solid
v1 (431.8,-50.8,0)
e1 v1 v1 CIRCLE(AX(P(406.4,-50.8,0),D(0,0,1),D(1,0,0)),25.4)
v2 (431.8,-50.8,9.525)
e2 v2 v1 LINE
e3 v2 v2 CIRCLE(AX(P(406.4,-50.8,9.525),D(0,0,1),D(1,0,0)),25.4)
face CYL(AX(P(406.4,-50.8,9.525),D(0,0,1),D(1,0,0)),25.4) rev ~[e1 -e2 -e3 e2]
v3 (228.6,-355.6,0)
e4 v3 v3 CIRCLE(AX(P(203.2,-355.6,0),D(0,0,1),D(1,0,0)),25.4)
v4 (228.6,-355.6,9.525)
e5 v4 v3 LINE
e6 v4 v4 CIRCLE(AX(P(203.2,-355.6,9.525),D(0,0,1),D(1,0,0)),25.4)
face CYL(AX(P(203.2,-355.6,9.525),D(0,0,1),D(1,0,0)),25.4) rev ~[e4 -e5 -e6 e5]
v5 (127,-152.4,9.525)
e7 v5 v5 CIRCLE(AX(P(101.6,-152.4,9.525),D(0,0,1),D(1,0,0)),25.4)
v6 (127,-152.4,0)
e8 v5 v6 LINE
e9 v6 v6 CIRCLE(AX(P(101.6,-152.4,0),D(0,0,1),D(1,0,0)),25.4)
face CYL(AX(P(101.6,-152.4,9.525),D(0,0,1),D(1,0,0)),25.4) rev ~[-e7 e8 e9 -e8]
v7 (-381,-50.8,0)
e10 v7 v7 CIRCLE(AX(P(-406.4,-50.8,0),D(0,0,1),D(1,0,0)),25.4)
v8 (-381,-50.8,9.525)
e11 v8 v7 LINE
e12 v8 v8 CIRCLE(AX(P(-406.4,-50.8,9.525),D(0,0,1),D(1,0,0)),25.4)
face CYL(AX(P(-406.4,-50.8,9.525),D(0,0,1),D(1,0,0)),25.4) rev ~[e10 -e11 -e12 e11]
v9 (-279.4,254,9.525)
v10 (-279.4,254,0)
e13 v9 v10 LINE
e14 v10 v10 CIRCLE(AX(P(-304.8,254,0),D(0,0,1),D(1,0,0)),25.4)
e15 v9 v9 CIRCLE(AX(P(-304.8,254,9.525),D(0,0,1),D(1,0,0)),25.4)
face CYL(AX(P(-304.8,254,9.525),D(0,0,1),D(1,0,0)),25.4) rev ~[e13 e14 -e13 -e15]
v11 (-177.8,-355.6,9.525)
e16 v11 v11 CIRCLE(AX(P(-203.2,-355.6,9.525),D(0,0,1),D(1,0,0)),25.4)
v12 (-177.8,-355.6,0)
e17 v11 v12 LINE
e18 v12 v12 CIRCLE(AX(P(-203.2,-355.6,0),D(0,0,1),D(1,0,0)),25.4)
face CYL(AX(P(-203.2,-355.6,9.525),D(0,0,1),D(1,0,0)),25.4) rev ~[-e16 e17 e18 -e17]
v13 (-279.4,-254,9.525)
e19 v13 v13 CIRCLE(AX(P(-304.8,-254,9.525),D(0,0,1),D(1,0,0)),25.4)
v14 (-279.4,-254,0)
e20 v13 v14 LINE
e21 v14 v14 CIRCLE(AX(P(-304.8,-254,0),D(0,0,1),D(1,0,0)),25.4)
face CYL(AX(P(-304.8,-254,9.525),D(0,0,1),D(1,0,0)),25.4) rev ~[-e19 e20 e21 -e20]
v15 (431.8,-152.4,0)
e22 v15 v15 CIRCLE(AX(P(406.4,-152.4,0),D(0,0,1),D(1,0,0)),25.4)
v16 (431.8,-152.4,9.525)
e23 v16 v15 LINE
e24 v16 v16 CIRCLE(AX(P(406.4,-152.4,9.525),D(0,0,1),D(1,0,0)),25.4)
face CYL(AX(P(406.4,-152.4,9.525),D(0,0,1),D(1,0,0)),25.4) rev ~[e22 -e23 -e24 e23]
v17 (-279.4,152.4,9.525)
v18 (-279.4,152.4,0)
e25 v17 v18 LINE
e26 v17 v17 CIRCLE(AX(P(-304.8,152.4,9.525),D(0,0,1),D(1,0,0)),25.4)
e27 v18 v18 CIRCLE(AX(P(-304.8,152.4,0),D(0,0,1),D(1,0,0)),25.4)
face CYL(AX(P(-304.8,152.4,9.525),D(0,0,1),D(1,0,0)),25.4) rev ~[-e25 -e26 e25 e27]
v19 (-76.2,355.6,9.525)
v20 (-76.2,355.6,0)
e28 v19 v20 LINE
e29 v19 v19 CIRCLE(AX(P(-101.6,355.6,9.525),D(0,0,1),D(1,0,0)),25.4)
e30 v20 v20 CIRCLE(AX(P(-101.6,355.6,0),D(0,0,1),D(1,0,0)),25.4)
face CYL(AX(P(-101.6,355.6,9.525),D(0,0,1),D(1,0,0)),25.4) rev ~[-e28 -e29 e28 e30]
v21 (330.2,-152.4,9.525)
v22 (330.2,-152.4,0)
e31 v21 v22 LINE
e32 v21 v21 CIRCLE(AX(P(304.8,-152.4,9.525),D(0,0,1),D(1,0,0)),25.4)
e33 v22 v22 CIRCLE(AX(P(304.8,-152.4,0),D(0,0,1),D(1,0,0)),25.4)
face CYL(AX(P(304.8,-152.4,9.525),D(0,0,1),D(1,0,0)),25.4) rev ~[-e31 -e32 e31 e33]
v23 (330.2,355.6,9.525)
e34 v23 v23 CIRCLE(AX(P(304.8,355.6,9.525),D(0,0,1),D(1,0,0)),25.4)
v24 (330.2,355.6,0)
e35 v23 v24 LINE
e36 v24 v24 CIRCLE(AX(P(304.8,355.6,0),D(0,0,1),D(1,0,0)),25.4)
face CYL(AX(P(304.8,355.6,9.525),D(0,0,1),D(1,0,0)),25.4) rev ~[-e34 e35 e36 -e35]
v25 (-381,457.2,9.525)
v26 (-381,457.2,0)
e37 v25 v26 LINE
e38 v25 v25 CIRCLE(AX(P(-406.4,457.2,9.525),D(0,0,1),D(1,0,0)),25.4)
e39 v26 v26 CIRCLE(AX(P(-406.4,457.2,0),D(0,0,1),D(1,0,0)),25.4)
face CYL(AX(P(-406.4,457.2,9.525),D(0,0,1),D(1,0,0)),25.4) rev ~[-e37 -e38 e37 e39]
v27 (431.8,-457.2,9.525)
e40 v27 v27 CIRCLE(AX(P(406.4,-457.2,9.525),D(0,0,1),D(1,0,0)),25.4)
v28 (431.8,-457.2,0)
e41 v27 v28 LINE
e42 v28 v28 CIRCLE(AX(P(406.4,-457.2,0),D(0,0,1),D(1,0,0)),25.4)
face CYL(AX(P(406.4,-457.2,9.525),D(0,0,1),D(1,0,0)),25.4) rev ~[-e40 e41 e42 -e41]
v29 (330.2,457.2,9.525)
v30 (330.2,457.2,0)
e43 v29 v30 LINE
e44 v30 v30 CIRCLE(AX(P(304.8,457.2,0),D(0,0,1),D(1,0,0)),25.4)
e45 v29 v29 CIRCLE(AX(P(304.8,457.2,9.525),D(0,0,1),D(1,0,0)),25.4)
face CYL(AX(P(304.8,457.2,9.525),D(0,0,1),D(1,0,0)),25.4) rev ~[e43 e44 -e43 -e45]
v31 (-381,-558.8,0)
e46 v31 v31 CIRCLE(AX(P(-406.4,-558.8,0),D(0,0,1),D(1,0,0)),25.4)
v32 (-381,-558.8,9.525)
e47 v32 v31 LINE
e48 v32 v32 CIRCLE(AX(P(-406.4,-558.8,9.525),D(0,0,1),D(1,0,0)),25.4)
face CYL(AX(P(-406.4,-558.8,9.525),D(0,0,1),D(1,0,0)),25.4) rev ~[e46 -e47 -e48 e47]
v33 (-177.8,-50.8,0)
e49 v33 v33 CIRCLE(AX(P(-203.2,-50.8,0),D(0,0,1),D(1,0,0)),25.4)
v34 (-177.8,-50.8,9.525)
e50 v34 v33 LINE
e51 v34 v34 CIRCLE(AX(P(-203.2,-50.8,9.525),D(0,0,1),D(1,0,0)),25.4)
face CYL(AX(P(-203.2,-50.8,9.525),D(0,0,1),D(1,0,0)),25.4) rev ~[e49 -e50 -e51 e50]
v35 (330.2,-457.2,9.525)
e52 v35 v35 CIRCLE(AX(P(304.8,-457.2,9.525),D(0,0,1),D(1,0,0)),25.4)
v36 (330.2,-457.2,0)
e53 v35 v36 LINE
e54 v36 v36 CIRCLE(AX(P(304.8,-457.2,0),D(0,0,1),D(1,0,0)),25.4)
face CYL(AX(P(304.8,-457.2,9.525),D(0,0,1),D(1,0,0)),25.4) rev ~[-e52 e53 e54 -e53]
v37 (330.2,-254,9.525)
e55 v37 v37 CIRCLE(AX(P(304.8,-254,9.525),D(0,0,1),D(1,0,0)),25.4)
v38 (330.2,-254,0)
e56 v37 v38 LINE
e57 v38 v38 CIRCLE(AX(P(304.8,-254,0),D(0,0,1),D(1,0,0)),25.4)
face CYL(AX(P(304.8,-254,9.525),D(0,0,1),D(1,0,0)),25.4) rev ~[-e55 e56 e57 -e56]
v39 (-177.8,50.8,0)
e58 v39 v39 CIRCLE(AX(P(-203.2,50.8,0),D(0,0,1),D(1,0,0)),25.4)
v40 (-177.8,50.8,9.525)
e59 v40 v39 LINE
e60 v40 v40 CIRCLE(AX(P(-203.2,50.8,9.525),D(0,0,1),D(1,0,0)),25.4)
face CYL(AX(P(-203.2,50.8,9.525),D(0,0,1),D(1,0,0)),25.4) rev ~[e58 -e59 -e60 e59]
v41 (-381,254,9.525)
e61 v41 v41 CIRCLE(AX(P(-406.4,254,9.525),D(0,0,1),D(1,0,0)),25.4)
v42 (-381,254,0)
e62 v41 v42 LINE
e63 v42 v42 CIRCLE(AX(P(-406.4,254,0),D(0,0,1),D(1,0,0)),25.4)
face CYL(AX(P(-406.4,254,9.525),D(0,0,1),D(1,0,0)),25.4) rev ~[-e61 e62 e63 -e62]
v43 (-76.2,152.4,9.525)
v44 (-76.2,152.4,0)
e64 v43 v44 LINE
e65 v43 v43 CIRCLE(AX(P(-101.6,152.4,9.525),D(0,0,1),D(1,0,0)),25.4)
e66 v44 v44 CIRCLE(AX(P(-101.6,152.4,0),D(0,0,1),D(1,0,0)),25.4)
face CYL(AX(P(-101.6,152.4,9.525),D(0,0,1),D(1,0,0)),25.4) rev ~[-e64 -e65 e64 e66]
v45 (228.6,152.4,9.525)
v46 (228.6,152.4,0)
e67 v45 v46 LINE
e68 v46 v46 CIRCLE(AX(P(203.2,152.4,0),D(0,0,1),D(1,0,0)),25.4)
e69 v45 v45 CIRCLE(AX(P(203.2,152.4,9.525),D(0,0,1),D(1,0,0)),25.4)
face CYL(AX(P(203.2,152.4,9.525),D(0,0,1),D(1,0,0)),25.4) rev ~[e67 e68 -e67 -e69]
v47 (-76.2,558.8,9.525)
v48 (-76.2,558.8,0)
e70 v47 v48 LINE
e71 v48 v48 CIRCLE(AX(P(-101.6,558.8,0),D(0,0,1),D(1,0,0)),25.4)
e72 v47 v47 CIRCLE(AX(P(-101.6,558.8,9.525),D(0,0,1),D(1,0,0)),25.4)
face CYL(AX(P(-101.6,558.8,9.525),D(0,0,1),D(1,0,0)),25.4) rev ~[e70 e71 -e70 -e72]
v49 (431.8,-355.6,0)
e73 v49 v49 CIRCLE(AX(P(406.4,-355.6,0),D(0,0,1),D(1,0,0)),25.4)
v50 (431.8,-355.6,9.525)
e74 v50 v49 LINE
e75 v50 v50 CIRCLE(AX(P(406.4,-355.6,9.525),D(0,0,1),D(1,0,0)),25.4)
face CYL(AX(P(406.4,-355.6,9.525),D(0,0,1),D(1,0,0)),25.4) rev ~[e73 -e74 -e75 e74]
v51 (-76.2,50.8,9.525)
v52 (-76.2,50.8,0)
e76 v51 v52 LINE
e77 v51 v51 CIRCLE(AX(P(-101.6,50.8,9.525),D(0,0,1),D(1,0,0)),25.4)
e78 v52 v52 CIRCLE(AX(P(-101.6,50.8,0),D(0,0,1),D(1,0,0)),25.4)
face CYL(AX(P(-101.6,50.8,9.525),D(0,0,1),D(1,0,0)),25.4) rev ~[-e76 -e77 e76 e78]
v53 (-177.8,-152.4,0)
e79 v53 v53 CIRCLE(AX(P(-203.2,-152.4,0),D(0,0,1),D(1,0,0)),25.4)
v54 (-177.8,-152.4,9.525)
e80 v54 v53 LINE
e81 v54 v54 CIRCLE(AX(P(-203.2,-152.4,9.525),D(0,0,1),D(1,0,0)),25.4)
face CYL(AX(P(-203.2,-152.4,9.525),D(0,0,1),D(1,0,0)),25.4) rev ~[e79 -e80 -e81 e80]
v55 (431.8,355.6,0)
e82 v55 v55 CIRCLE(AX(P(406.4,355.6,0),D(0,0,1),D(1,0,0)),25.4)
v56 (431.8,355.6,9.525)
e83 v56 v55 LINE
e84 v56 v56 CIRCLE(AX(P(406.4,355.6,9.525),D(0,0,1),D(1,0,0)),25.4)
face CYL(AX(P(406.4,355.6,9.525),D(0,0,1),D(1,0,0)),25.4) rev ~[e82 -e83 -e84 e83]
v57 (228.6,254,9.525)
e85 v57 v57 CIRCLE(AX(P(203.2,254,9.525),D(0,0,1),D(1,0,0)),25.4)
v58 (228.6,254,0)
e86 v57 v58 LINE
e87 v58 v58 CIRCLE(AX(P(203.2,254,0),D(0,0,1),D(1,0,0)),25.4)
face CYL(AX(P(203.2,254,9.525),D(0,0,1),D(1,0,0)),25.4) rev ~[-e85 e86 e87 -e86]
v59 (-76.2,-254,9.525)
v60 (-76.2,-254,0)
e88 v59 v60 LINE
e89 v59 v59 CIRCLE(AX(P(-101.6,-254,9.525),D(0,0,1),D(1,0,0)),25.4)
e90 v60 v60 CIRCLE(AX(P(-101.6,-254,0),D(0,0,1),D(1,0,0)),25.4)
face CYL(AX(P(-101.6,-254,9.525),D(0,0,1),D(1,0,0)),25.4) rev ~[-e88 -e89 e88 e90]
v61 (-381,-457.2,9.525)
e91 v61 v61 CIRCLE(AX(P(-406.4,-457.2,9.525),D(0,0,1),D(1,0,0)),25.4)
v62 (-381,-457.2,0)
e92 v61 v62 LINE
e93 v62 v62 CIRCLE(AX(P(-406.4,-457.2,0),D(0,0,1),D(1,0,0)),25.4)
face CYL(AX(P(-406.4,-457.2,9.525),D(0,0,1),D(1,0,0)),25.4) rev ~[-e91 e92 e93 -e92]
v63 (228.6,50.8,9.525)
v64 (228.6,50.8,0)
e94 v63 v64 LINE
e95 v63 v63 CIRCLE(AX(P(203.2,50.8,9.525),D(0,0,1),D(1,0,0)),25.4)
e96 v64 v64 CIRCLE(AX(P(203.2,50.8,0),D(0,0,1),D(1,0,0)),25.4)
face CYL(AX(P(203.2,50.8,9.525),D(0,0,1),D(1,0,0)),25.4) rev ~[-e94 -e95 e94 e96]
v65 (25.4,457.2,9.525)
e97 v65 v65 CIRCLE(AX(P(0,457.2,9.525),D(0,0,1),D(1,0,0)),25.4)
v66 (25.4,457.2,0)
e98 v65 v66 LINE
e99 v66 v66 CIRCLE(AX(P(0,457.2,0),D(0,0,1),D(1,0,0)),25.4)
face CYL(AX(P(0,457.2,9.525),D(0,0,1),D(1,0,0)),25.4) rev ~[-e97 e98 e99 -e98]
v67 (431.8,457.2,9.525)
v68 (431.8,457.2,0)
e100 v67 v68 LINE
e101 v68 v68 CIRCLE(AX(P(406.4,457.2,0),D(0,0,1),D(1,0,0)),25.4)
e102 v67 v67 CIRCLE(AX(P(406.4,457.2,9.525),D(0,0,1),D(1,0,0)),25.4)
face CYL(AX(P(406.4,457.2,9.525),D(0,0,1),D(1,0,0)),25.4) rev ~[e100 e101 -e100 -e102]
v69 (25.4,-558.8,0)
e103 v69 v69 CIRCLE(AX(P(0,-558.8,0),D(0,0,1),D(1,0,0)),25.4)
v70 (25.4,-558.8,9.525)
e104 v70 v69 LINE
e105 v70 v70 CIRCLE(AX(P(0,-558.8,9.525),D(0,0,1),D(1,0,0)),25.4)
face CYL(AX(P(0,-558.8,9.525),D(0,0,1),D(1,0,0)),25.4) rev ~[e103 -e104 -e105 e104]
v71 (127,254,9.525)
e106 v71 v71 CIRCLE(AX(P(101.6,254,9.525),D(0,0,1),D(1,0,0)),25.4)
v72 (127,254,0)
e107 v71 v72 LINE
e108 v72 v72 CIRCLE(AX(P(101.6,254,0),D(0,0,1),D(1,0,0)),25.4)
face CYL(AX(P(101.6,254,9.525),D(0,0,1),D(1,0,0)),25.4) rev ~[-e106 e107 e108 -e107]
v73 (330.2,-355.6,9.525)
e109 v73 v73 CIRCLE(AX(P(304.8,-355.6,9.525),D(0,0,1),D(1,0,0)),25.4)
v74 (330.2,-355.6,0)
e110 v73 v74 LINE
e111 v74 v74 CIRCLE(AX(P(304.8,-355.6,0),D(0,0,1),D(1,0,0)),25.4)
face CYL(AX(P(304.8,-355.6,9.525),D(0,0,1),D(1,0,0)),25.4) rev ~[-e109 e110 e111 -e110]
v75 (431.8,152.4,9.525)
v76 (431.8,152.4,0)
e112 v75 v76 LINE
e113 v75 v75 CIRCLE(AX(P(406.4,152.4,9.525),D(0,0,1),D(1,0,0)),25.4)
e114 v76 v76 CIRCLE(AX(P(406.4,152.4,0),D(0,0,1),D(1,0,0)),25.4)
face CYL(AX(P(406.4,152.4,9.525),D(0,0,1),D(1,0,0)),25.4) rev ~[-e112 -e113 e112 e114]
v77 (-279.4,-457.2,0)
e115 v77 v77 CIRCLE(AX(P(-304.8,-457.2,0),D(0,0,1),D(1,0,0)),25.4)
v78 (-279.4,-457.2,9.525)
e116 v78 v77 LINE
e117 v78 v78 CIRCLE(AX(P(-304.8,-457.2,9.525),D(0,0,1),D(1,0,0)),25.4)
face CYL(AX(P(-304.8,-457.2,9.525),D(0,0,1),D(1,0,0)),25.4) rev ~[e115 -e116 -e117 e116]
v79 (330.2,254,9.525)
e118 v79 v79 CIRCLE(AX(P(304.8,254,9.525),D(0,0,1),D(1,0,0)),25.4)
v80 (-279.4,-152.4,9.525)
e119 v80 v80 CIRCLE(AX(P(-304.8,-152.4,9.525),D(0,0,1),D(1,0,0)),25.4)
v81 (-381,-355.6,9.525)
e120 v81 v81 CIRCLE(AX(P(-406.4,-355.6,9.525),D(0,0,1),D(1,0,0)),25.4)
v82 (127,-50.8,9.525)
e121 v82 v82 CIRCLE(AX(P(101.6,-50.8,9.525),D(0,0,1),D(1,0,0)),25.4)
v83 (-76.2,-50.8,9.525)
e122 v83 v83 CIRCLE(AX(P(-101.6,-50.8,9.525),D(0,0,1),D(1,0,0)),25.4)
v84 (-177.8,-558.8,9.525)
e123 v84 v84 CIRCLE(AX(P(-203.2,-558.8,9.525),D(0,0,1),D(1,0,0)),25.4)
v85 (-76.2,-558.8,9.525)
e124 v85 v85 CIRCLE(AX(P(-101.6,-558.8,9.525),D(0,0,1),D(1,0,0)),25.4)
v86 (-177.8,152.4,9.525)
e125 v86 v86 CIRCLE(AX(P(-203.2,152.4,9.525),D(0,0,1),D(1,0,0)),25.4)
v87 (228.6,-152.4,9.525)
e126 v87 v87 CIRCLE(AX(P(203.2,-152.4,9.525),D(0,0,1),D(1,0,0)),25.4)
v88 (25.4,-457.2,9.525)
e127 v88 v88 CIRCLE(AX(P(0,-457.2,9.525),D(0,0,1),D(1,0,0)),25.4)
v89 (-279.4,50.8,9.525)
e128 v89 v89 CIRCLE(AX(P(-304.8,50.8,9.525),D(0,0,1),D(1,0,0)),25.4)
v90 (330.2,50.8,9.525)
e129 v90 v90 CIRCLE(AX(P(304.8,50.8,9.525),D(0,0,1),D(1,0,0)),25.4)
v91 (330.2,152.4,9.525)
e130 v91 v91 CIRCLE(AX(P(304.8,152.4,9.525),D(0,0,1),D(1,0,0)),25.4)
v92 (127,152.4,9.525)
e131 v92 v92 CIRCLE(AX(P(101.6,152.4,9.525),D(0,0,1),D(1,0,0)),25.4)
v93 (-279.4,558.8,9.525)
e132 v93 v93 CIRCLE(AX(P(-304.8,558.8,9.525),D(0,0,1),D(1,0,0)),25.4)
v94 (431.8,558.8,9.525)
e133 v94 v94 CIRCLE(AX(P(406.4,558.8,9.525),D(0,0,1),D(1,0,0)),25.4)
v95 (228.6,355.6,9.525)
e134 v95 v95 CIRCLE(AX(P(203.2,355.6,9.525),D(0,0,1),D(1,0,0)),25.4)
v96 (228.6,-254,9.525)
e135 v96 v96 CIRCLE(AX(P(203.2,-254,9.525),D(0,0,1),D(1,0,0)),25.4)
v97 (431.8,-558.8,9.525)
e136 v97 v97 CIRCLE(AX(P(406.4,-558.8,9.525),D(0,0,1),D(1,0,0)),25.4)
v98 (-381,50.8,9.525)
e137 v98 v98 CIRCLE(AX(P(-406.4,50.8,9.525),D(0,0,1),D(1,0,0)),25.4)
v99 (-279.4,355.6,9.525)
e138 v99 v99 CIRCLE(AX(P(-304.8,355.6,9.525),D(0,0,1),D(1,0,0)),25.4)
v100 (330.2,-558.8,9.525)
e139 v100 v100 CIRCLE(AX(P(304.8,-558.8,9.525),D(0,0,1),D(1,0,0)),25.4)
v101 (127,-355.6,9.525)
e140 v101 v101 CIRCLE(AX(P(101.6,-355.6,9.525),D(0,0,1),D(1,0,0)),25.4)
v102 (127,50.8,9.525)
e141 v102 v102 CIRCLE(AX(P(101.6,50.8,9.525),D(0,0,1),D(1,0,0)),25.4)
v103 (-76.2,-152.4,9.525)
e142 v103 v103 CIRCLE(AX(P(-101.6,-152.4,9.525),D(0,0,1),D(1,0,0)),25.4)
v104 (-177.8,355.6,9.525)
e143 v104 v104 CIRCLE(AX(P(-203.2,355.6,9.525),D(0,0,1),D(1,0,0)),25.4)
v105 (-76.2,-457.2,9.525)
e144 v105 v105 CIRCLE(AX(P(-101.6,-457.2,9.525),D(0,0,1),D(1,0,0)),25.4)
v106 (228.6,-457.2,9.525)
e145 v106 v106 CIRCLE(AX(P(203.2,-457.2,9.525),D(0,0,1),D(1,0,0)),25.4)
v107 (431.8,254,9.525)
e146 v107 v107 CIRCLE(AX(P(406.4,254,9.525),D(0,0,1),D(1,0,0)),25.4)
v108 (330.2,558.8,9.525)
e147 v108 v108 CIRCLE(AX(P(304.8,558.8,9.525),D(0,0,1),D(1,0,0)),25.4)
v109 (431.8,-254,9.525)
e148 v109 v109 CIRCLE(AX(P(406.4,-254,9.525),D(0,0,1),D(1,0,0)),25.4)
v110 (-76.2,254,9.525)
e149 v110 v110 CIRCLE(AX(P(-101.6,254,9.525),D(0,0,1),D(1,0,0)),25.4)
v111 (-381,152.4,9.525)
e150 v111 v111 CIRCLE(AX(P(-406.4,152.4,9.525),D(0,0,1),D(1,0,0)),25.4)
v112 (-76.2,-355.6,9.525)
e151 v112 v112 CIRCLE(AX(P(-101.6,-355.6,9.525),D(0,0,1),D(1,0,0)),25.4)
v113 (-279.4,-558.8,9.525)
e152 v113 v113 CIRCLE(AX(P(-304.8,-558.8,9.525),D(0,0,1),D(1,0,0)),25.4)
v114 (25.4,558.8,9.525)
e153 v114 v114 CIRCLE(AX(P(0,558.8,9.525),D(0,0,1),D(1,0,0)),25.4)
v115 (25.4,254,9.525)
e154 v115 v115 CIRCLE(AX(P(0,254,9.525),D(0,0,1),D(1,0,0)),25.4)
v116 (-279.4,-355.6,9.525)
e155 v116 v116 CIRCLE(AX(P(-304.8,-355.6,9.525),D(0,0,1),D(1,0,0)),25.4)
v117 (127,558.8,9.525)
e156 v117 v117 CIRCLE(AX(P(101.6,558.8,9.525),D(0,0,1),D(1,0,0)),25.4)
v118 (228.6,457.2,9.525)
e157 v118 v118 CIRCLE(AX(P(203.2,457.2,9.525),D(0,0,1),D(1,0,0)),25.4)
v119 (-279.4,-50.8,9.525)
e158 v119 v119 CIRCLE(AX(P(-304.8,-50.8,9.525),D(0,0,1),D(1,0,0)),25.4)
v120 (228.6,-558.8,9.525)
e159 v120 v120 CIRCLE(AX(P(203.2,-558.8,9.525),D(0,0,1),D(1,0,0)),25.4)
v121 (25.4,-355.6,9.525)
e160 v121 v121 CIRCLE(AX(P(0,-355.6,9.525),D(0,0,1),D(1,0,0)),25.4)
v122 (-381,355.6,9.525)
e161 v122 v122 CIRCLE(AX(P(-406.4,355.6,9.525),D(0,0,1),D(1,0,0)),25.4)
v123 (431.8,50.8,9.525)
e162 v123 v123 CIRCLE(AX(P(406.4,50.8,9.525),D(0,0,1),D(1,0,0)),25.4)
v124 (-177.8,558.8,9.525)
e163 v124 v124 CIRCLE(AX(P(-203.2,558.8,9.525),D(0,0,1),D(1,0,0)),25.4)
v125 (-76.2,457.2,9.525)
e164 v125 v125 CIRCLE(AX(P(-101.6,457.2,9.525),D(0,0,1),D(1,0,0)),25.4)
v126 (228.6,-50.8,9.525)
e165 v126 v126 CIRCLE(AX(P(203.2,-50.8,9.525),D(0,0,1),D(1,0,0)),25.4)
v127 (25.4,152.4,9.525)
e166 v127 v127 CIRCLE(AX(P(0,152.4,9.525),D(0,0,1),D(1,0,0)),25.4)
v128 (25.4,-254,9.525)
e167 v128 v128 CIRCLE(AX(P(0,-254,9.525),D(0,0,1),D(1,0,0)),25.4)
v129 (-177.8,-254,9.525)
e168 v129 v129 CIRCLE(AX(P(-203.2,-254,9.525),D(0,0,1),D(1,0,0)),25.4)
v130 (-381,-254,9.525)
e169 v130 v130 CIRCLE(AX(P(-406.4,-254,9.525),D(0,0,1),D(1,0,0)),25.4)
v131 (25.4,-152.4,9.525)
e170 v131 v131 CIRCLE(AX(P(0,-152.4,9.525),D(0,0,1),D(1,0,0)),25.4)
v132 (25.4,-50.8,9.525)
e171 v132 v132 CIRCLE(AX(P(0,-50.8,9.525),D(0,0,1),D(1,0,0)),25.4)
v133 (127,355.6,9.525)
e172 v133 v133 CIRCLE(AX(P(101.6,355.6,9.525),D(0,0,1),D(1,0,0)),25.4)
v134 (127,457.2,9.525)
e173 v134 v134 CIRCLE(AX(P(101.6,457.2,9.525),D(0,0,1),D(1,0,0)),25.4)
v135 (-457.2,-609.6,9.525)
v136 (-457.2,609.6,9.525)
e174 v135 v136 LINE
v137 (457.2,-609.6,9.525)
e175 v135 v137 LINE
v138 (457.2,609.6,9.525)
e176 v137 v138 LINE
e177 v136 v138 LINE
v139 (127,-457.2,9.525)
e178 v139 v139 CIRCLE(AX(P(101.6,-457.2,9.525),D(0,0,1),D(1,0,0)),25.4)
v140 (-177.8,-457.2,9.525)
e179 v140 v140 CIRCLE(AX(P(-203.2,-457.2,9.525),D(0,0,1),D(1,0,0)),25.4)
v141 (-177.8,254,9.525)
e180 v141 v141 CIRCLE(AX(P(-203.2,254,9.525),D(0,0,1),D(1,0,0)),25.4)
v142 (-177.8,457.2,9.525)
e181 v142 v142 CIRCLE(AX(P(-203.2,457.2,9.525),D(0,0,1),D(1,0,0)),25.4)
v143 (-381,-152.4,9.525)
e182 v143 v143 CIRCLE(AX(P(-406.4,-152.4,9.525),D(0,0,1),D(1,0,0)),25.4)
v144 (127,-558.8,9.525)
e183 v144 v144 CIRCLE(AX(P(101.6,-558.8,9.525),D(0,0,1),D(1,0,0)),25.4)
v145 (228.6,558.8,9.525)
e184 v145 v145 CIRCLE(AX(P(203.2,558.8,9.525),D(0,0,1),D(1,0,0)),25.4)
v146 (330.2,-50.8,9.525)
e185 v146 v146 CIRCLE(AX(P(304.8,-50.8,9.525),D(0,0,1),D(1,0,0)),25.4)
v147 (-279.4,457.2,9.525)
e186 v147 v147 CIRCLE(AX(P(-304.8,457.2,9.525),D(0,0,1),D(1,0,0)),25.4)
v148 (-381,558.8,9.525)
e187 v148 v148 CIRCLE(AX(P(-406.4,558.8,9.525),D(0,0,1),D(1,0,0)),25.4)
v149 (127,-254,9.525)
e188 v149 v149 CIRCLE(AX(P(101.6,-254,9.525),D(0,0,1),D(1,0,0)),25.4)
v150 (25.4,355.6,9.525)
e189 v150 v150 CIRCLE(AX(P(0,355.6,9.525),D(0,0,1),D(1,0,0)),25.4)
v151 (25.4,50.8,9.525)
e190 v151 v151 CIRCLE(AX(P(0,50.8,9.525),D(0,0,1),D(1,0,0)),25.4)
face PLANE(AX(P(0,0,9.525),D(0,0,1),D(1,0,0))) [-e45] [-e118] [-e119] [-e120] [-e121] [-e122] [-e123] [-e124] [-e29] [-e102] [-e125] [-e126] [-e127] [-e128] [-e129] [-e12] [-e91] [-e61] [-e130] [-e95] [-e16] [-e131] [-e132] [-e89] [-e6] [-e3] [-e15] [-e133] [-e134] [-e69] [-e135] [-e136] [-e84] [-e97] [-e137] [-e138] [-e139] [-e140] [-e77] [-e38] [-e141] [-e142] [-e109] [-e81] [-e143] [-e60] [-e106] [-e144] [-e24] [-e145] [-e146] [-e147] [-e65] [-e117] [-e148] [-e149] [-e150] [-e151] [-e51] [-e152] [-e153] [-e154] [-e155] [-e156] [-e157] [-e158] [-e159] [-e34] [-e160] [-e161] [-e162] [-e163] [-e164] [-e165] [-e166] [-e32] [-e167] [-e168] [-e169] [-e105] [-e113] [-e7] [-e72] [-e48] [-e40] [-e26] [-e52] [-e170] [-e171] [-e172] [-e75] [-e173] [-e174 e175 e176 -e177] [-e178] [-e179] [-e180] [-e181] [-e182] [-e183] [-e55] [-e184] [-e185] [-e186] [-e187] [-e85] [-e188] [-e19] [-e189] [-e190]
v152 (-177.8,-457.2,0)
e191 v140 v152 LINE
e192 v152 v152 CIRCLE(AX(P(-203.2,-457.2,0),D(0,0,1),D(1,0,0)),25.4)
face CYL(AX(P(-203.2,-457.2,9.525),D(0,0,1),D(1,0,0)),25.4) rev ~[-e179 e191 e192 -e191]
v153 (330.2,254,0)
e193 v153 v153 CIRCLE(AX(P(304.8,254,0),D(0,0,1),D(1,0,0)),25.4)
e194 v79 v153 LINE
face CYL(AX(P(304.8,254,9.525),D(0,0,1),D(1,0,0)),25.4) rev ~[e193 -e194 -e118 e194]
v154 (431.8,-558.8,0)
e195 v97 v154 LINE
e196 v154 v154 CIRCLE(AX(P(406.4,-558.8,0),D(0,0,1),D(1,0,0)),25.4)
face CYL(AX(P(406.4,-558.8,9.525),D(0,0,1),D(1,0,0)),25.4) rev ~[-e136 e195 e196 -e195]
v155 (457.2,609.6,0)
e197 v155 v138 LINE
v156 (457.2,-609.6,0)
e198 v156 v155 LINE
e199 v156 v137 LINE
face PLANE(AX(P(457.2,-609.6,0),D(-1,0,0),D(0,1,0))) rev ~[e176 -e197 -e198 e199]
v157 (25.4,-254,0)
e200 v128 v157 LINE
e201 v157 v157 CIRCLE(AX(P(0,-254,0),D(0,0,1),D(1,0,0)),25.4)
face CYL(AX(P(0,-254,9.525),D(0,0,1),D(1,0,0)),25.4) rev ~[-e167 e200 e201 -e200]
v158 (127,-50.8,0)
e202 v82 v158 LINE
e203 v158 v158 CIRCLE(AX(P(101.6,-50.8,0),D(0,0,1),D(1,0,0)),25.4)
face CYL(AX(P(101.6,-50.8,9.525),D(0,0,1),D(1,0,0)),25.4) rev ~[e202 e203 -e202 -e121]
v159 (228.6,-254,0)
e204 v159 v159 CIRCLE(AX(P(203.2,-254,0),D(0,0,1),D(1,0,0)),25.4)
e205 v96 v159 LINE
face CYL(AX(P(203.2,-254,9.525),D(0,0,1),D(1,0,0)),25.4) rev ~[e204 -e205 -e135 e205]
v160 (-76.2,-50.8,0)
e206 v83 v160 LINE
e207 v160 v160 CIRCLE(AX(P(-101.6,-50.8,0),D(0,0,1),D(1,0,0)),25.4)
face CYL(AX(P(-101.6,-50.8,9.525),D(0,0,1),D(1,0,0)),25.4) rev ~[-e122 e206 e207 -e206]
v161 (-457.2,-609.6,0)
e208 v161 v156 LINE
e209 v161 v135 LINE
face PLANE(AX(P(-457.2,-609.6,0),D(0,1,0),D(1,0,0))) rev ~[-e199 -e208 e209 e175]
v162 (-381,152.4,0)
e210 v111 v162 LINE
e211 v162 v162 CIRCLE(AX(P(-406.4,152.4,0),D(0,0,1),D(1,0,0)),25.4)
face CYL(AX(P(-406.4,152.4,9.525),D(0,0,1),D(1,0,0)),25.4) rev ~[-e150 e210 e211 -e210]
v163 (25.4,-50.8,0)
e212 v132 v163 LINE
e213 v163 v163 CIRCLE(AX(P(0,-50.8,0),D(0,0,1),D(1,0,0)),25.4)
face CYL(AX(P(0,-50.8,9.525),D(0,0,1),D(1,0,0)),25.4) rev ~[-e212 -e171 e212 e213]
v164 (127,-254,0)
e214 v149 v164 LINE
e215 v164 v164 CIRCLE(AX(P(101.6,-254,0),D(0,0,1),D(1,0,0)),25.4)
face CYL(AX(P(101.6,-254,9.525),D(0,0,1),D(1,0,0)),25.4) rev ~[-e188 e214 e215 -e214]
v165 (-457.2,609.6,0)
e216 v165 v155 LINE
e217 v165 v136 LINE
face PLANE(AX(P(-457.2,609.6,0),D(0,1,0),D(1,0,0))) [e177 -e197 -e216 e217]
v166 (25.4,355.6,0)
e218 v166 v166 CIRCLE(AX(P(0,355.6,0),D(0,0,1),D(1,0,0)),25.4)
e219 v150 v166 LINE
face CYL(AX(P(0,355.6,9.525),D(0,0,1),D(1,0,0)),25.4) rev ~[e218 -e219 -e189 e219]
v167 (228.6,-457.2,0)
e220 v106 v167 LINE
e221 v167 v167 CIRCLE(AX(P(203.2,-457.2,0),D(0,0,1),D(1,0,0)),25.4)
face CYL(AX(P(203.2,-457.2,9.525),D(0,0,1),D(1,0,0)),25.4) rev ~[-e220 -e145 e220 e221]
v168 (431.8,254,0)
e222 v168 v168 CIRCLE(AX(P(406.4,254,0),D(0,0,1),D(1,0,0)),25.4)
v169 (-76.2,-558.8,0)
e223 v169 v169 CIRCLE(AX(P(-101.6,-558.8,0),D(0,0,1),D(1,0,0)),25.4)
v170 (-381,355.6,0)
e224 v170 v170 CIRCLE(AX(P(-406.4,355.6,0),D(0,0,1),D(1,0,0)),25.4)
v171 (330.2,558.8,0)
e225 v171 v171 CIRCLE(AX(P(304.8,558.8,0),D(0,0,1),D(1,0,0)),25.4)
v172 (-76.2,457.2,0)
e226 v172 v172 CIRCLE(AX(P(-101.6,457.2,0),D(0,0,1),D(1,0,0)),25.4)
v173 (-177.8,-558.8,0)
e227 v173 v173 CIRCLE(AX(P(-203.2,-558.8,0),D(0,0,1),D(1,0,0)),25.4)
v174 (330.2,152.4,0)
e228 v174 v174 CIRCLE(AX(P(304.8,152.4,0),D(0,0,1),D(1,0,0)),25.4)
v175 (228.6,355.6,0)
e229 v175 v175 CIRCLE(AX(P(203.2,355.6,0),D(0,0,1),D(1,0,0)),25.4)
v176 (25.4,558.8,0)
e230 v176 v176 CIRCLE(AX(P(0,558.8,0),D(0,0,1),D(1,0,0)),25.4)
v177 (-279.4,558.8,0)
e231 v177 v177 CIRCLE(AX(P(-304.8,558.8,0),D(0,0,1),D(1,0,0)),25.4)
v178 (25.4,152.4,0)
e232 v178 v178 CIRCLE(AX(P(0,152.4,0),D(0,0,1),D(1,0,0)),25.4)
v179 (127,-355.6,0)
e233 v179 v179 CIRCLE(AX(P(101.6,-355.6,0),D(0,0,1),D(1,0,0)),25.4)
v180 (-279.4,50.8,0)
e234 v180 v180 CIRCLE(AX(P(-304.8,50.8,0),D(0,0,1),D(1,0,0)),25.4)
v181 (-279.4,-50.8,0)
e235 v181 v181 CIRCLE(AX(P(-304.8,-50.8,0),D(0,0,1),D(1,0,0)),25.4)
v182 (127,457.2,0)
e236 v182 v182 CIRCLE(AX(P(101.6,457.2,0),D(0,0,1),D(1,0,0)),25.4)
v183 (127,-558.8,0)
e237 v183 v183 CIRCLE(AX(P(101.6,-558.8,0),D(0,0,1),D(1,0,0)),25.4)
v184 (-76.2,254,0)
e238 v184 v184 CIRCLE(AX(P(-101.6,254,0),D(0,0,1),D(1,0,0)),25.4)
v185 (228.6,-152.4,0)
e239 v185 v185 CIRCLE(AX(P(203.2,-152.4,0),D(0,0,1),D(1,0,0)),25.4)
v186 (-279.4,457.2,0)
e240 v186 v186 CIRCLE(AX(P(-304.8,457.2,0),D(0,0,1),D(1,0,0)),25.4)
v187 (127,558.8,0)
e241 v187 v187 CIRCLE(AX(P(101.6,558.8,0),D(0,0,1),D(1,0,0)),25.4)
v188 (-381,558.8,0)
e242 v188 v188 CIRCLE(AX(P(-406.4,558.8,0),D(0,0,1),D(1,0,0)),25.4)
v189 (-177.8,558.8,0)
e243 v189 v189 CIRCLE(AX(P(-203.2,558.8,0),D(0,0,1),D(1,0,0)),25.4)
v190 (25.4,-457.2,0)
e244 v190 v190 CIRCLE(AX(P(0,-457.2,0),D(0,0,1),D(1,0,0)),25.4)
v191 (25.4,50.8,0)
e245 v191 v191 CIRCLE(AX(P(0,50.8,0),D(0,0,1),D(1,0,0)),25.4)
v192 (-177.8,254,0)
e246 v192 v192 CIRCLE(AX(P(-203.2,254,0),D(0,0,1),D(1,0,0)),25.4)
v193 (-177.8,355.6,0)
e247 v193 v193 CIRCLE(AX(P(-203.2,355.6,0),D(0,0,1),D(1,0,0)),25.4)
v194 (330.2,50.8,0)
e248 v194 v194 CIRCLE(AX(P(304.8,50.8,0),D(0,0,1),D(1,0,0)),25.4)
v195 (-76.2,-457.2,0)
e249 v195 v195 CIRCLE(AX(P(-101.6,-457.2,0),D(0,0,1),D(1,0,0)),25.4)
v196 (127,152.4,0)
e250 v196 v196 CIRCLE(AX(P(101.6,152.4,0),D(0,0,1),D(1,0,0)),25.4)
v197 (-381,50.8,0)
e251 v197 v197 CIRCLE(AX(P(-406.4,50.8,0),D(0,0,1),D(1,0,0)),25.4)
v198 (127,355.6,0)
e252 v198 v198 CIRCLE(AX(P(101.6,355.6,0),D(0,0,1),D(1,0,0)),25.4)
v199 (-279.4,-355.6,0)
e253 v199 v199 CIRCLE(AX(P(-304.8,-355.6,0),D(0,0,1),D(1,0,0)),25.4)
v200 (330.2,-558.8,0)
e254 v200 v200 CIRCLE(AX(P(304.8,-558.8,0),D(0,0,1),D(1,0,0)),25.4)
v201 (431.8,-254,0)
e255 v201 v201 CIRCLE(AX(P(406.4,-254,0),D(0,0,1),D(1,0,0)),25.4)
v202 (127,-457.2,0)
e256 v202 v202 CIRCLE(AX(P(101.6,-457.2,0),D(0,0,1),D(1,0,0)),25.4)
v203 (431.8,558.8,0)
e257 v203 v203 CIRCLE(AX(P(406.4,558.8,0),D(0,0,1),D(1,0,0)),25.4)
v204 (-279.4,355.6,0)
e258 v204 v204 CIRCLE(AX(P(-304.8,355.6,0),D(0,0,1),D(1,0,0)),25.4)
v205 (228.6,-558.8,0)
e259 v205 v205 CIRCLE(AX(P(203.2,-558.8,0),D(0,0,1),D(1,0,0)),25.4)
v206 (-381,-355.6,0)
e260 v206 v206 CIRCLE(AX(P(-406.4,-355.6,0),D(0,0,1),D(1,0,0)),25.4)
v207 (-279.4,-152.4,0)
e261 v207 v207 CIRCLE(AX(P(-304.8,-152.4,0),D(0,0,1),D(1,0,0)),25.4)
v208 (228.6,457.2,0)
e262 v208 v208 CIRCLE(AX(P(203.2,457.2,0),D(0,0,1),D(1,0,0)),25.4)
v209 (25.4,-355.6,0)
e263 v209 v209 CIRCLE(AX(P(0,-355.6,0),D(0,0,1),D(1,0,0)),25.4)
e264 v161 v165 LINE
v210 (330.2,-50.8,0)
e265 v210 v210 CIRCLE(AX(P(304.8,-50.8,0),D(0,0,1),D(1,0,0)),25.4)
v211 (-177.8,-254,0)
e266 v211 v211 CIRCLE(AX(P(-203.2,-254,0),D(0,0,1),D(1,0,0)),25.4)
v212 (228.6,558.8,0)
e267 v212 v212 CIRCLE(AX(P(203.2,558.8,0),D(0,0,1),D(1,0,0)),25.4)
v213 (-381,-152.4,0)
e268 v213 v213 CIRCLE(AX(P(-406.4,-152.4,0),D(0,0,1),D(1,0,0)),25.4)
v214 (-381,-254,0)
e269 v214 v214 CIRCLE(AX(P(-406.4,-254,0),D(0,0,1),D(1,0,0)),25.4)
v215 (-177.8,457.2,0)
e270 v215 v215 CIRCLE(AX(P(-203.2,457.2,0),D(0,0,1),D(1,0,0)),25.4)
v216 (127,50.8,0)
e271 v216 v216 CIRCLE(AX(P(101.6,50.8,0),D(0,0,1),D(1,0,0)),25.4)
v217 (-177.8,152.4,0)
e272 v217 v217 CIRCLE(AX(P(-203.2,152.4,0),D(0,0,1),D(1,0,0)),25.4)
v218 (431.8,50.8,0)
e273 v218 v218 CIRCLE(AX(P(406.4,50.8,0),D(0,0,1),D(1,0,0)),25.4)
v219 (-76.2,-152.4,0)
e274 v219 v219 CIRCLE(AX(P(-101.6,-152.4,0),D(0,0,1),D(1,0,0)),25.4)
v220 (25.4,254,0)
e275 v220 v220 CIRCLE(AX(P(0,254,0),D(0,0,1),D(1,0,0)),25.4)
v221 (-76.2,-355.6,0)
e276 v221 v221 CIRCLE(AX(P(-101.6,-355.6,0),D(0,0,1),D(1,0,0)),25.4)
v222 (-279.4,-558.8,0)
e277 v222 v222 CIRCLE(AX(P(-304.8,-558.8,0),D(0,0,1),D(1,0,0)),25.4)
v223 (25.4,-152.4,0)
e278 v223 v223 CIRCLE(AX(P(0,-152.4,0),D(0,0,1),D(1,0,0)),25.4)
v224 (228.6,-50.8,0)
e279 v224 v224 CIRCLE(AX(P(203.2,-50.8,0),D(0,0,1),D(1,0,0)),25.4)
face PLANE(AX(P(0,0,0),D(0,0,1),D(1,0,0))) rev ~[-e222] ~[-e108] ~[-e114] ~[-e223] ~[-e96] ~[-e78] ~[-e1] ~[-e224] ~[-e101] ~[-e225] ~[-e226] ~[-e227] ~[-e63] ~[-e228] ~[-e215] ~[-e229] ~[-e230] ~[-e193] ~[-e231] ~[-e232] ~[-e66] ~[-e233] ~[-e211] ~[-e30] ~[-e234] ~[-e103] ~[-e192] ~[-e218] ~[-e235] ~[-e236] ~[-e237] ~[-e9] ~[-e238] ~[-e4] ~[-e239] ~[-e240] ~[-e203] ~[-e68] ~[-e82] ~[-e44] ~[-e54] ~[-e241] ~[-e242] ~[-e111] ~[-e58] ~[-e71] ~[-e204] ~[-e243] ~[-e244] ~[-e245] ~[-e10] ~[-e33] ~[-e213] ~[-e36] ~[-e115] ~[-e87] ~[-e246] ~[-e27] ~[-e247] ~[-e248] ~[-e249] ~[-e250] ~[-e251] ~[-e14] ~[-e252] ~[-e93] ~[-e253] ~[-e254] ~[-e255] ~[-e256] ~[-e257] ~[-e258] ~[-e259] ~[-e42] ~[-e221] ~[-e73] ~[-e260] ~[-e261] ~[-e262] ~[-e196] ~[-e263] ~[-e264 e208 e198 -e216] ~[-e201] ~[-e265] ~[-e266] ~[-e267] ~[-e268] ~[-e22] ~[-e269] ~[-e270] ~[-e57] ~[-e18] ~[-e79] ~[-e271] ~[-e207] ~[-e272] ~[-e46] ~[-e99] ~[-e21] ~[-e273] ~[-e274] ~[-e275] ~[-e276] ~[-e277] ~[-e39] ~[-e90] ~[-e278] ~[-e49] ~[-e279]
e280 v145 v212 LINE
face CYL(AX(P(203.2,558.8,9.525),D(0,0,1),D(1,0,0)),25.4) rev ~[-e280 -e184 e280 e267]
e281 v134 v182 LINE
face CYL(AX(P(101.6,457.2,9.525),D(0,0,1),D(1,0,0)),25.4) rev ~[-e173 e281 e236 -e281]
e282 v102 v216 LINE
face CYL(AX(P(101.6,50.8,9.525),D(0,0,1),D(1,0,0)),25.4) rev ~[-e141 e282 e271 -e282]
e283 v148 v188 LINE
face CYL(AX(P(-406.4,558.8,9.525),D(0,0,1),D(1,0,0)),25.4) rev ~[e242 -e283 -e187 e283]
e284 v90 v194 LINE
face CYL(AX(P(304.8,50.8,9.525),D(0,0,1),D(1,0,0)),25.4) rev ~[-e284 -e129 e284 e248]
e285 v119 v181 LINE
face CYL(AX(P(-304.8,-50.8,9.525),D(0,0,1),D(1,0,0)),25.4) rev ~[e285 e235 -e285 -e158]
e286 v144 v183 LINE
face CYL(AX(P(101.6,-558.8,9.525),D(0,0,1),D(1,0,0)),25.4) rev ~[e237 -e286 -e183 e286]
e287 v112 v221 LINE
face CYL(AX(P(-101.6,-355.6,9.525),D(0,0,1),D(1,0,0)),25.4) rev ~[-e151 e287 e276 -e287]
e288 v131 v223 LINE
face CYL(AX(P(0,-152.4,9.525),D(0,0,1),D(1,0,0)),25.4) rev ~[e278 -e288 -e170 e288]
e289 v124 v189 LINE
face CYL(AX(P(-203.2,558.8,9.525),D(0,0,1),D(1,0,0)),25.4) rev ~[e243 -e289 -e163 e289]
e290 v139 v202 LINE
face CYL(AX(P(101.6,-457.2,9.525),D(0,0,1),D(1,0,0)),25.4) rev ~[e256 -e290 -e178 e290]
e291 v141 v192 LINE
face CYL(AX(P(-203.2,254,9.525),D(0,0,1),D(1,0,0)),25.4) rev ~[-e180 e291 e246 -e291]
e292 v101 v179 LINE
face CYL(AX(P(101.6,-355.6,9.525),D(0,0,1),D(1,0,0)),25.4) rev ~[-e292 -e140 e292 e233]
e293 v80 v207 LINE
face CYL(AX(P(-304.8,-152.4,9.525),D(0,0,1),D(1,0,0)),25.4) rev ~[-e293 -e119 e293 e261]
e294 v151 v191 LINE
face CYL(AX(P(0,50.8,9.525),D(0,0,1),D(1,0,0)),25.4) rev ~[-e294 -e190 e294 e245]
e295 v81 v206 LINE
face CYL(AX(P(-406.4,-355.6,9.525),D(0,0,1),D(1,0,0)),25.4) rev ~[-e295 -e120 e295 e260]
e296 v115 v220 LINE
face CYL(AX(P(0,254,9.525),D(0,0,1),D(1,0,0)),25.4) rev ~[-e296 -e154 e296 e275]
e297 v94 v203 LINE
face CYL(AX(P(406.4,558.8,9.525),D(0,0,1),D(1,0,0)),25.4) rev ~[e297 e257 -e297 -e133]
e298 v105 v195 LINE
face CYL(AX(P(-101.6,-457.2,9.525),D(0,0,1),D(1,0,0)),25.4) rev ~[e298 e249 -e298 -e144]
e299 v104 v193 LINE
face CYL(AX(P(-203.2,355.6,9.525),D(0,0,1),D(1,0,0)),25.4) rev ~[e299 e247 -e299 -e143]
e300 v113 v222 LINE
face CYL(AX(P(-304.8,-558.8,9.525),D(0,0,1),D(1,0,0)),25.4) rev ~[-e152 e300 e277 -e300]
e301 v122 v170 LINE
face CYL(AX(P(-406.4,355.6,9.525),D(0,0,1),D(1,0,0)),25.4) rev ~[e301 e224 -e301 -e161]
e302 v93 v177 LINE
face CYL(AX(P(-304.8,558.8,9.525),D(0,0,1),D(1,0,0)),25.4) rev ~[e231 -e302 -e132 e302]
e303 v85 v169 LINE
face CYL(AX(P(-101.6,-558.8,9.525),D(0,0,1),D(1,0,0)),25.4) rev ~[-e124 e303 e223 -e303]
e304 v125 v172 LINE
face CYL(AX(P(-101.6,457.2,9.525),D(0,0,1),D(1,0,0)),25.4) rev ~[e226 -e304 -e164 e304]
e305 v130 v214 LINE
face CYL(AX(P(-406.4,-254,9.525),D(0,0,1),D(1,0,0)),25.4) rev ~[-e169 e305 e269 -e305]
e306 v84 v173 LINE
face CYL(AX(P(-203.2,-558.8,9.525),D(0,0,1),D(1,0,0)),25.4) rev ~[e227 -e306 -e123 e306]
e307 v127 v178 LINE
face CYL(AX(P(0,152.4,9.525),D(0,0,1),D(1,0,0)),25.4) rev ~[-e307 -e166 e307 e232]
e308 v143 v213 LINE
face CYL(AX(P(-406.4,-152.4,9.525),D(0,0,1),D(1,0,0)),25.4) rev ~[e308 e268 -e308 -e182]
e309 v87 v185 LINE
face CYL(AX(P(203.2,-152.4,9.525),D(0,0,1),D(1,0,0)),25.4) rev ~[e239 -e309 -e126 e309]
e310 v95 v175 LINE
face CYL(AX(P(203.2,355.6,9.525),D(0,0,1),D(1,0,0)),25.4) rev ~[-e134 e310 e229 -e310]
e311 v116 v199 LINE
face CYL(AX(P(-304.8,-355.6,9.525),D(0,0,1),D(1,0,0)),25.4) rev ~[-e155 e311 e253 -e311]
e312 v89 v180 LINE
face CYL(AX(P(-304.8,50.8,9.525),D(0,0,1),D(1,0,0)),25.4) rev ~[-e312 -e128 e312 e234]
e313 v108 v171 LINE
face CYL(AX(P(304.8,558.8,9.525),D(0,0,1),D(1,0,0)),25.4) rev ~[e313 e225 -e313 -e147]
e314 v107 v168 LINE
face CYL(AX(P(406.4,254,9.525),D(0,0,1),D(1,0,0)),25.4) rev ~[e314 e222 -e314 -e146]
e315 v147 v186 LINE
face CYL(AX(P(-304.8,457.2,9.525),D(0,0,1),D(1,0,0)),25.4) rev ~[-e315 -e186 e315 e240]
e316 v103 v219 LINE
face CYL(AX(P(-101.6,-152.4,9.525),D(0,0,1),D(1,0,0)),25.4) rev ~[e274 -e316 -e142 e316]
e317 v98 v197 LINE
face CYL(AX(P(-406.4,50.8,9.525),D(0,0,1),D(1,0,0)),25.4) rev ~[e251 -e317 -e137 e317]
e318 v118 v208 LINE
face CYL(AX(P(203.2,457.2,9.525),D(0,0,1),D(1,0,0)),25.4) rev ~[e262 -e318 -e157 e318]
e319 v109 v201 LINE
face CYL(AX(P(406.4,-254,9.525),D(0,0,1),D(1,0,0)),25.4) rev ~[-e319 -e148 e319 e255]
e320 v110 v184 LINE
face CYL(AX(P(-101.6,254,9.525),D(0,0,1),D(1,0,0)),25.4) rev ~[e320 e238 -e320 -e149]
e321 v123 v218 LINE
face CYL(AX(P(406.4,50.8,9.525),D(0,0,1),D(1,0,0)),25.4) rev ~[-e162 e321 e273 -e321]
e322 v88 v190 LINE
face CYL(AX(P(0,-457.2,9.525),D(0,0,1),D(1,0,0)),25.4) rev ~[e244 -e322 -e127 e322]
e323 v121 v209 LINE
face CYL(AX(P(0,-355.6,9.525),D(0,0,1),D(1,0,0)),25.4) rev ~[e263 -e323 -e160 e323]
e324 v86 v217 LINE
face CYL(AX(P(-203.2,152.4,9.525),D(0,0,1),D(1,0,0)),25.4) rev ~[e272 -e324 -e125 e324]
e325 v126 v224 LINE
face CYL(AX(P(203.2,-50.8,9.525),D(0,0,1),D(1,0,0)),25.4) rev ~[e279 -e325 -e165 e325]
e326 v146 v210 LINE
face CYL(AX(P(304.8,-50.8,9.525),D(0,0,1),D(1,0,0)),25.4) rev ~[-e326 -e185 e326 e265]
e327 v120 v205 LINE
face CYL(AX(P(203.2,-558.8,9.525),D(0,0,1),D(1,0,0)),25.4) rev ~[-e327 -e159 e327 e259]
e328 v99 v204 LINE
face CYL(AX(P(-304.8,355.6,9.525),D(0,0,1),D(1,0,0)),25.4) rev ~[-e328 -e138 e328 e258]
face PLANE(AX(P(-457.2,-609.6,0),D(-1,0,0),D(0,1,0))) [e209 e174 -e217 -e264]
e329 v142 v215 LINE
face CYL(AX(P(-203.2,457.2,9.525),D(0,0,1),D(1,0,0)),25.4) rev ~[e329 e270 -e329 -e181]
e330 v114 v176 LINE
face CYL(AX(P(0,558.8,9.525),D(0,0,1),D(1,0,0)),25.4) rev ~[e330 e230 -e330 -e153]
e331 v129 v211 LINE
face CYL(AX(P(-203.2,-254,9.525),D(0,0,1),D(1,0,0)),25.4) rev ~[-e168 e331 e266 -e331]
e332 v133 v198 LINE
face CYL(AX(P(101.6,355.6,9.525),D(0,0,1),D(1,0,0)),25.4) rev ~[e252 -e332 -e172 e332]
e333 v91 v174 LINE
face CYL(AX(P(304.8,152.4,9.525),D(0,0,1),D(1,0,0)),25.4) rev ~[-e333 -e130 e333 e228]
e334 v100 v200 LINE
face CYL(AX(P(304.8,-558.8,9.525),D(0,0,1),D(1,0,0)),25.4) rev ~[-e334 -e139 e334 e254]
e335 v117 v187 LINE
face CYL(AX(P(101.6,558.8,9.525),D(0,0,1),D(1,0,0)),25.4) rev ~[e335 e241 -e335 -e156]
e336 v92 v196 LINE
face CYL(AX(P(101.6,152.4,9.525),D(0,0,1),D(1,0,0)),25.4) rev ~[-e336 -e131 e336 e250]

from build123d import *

# Parameters (mm, degrees)
F0_W     = 914.4
F0_H     = 1219.2
F1_DEPTH = 9.525
F2_R     = 25.4
F3_DEPTH = 9.525


with BuildPart() as f1:
    # F0 (on Top) → F1 (new body)
    with BuildSketch(Plane.XY):
        Rectangle(F0_W, F0_H)
    extrude(amount=F1_DEPTH)

    # F2 (on face) → F3 (cut, through all)
    with BuildSketch(Plane.XY.offset(9.525)):
        with Locations((-406.4, 558.8)):
            Circle(F2_R)
        with Locations((-304.8, 558.8)):
            Circle(F2_R)
        with Locations((-203.2, 558.8)):
            Circle(F2_R)
        with Locations((-101.6, 558.8)):
            Circle(F2_R)
        with Locations((0, 558.8)):
            Circle(F2_R)
        with Locations((101.6, 558.8)):
            Circle(F2_R)
        with Locations((203.2, 558.8)):
            Circle(F2_R)
        with Locations((304.8, 558.8)):
            Circle(F2_R)
        with Locations((406.4, 558.8)):
            Circle(F2_R)
        with Locations((-101.6, 457.2)):
            Circle(F2_R)
        with Locations((0, 457.2)):
            Circle(F2_R)
        with Locations((101.6, 457.2)):
            Circle(F2_R)
        with Locations((203.2, 457.2)):
            Circle(F2_R)
        with Locations((406.4, 457.2)):
            Circle(F2_R)
        with Locations((-203.2, 457.2)):
            Circle(F2_R)
        with Locations((-304.8, 457.2)):
            Circle(F2_R)
        with Locations((-406.4, 457.2)):
            Circle(F2_R)
        with Locations((304.8, 457.2)):
            Circle(F2_R)
        with Locations((-101.6, 355.6)):
            Circle(F2_R)
        with Locations((0, 355.6)):
            Circle(F2_R)
        with Locations((101.6, 355.6)):
            Circle(F2_R)
        with Locations((203.2, 355.6)):
            Circle(F2_R)
        with Locations((406.4, 355.6)):
            Circle(F2_R)
        with Locations((-203.2, 355.6)):
            Circle(F2_R)
        with Locations((-304.8, 355.6)):
            Circle(F2_R)
        with Locations((-406.4, 355.6)):
            Circle(F2_R)
        with Locations((304.8, 355.6)):
            Circle(F2_R)
        with Locations((-101.6, 254)):
            Circle(F2_R)
        with Locations((0, 254)):
            Circle(F2_R)
        with Locations((101.6, 254)):
            Circle(F2_R)
        with Locations((203.2, 254)):
            Circle(F2_R)
        with Locations((406.4, 254)):
            Circle(F2_R)
        with Locations((-203.2, 254)):
            Circle(F2_R)
        with Locations((-304.8, 254)):
            Circle(F2_R)
        with Locations((-406.4, 254)):
            Circle(F2_R)
        with Locations((304.8, 254)):
            Circle(F2_R)
        with Locations((-101.6, 152.4)):
            Circle(F2_R)
        with Locations((0, 152.4)):
            Circle(F2_R)
        with Locations((101.6, 152.4)):
            Circle(F2_R)
        with Locations((203.2, 152.4)):
            Circle(F2_R)
        with Locations((406.4, 152.4)):
            Circle(F2_R)
        with Locations((-203.2, 152.4)):
            Circle(F2_R)
        with Locations((-304.8, 152.4)):
            Circle(F2_R)
        with Locations((-406.4, 152.4)):
            Circle(F2_R)
        with Locations((304.8, 152.4)):
            Circle(F2_R)
        with Locations((-101.6, 50.8)):
            Circle(F2_R)
        with Locations((0, 50.8)):
            Circle(F2_R)
        with Locations((101.6, 50.8)):
            Circle(F2_R)
        with Locations((203.2, 50.8)):
            Circle(F2_R)
        with Locations((406.4, 50.8)):
            Circle(F2_R)
        with Locations((-203.2, 50.8)):
            Circle(F2_R)
        with Locations((-304.8, 50.8)):
            Circle(F2_R)
        with Locations((-406.4, 50.8)):
            Circle(F2_R)
        with Locations((304.8, 50.8)):
            Circle(F2_R)
        with Locations((-101.6, -50.8)):
            Circle(F2_R)
        with Locations((0, -50.8)):
            Circle(F2_R)
        with Locations((101.6, -50.8)):
            Circle(F2_R)
        with Locations((203.2, -50.8)):
            Circle(F2_R)
        with Locations((406.4, -50.8)):
            Circle(F2_R)
        with Locations((-203.2, -50.8)):
            Circle(F2_R)
        with Locations((-304.8, -50.8)):
            Circle(F2_R)
        with Locations((-406.4, -50.8)):
            Circle(F2_R)
        with Locations((304.8, -50.8)):
            Circle(F2_R)
        with Locations((-101.6, -152.4)):
            Circle(F2_R)
        with Locations((0, -152.4)):
            Circle(F2_R)
        with Locations((101.6, -152.4)):
            Circle(F2_R)
        with Locations((203.2, -152.4)):
            Circle(F2_R)
        with Locations((406.4, -152.4)):
            Circle(F2_R)
        with Locations((-203.2, -152.4)):
            Circle(F2_R)
        with Locations((-304.8, -152.4)):
            Circle(F2_R)
        with Locations((-406.4, -152.4)):
            Circle(F2_R)
        with Locations((304.8, -152.4)):
            Circle(F2_R)
        with Locations((-101.6, -254)):
            Circle(F2_R)
        with Locations((0, -254)):
            Circle(F2_R)
        with Locations((101.6, -254)):
            Circle(F2_R)
        with Locations((203.2, -254)):
            Circle(F2_R)
        with Locations((406.4, -254)):
            Circle(F2_R)
        with Locations((-203.2, -254)):
            Circle(F2_R)
        with Locations((-304.8, -254)):
            Circle(F2_R)
        with Locations((-406.4, -254)):
            Circle(F2_R)
        with Locations((304.8, -254)):
            Circle(F2_R)
        with Locations((-101.6, -355.6)):
            Circle(F2_R)
        with Locations((0, -355.6)):
            Circle(F2_R)
        with Locations((101.6, -355.6)):
            Circle(F2_R)
        with Locations((203.2, -355.6)):
            Circle(F2_R)
        with Locations((406.4, -355.6)):
            Circle(F2_R)
        with Locations((-203.2, -355.6)):
            Circle(F2_R)
        with Locations((-304.8, -355.6)):
            Circle(F2_R)
        with Locations((-406.4, -355.6)):
            Circle(F2_R)
        with Locations((304.8, -355.6)):
            Circle(F2_R)
        with Locations((-101.6, -457.2)):
            Circle(F2_R)
        with Locations((0, -457.2)):
            Circle(F2_R)
        with Locations((101.6, -457.2)):
            Circle(F2_R)
        with Locations((203.2, -457.2)):
            Circle(F2_R)
        with Locations((406.4, -457.2)):
            Circle(F2_R)
        with Locations((-203.2, -457.2)):
            Circle(F2_R)
        with Locations((-304.8, -457.2)):
            Circle(F2_R)
        with Locations((-406.4, -457.2)):
            Circle(F2_R)
        with Locations((304.8, -457.2)):
            Circle(F2_R)
        with Locations((-101.6, -558.8)):
            Circle(F2_R)
        with Locations((0, -558.8)):
            Circle(F2_R)
        with Locations((101.6, -558.8)):
            Circle(F2_R)
        with Locations((203.2, -558.8)):
            Circle(F2_R)
        with Locations((406.4, -558.8)):
            Circle(F2_R)
        with Locations((-203.2, -558.8)):
            Circle(F2_R)
        with Locations((-304.8, -558.8)):
            Circle(F2_R)
        with Locations((-406.4, -558.8)):
            Circle(F2_R)
        with Locations((304.8, -558.8)):
            Circle(F2_R)
    extrude(amount=-F3_DEPTH, mode=Mode.SUBTRACT)


solid = f1.part
